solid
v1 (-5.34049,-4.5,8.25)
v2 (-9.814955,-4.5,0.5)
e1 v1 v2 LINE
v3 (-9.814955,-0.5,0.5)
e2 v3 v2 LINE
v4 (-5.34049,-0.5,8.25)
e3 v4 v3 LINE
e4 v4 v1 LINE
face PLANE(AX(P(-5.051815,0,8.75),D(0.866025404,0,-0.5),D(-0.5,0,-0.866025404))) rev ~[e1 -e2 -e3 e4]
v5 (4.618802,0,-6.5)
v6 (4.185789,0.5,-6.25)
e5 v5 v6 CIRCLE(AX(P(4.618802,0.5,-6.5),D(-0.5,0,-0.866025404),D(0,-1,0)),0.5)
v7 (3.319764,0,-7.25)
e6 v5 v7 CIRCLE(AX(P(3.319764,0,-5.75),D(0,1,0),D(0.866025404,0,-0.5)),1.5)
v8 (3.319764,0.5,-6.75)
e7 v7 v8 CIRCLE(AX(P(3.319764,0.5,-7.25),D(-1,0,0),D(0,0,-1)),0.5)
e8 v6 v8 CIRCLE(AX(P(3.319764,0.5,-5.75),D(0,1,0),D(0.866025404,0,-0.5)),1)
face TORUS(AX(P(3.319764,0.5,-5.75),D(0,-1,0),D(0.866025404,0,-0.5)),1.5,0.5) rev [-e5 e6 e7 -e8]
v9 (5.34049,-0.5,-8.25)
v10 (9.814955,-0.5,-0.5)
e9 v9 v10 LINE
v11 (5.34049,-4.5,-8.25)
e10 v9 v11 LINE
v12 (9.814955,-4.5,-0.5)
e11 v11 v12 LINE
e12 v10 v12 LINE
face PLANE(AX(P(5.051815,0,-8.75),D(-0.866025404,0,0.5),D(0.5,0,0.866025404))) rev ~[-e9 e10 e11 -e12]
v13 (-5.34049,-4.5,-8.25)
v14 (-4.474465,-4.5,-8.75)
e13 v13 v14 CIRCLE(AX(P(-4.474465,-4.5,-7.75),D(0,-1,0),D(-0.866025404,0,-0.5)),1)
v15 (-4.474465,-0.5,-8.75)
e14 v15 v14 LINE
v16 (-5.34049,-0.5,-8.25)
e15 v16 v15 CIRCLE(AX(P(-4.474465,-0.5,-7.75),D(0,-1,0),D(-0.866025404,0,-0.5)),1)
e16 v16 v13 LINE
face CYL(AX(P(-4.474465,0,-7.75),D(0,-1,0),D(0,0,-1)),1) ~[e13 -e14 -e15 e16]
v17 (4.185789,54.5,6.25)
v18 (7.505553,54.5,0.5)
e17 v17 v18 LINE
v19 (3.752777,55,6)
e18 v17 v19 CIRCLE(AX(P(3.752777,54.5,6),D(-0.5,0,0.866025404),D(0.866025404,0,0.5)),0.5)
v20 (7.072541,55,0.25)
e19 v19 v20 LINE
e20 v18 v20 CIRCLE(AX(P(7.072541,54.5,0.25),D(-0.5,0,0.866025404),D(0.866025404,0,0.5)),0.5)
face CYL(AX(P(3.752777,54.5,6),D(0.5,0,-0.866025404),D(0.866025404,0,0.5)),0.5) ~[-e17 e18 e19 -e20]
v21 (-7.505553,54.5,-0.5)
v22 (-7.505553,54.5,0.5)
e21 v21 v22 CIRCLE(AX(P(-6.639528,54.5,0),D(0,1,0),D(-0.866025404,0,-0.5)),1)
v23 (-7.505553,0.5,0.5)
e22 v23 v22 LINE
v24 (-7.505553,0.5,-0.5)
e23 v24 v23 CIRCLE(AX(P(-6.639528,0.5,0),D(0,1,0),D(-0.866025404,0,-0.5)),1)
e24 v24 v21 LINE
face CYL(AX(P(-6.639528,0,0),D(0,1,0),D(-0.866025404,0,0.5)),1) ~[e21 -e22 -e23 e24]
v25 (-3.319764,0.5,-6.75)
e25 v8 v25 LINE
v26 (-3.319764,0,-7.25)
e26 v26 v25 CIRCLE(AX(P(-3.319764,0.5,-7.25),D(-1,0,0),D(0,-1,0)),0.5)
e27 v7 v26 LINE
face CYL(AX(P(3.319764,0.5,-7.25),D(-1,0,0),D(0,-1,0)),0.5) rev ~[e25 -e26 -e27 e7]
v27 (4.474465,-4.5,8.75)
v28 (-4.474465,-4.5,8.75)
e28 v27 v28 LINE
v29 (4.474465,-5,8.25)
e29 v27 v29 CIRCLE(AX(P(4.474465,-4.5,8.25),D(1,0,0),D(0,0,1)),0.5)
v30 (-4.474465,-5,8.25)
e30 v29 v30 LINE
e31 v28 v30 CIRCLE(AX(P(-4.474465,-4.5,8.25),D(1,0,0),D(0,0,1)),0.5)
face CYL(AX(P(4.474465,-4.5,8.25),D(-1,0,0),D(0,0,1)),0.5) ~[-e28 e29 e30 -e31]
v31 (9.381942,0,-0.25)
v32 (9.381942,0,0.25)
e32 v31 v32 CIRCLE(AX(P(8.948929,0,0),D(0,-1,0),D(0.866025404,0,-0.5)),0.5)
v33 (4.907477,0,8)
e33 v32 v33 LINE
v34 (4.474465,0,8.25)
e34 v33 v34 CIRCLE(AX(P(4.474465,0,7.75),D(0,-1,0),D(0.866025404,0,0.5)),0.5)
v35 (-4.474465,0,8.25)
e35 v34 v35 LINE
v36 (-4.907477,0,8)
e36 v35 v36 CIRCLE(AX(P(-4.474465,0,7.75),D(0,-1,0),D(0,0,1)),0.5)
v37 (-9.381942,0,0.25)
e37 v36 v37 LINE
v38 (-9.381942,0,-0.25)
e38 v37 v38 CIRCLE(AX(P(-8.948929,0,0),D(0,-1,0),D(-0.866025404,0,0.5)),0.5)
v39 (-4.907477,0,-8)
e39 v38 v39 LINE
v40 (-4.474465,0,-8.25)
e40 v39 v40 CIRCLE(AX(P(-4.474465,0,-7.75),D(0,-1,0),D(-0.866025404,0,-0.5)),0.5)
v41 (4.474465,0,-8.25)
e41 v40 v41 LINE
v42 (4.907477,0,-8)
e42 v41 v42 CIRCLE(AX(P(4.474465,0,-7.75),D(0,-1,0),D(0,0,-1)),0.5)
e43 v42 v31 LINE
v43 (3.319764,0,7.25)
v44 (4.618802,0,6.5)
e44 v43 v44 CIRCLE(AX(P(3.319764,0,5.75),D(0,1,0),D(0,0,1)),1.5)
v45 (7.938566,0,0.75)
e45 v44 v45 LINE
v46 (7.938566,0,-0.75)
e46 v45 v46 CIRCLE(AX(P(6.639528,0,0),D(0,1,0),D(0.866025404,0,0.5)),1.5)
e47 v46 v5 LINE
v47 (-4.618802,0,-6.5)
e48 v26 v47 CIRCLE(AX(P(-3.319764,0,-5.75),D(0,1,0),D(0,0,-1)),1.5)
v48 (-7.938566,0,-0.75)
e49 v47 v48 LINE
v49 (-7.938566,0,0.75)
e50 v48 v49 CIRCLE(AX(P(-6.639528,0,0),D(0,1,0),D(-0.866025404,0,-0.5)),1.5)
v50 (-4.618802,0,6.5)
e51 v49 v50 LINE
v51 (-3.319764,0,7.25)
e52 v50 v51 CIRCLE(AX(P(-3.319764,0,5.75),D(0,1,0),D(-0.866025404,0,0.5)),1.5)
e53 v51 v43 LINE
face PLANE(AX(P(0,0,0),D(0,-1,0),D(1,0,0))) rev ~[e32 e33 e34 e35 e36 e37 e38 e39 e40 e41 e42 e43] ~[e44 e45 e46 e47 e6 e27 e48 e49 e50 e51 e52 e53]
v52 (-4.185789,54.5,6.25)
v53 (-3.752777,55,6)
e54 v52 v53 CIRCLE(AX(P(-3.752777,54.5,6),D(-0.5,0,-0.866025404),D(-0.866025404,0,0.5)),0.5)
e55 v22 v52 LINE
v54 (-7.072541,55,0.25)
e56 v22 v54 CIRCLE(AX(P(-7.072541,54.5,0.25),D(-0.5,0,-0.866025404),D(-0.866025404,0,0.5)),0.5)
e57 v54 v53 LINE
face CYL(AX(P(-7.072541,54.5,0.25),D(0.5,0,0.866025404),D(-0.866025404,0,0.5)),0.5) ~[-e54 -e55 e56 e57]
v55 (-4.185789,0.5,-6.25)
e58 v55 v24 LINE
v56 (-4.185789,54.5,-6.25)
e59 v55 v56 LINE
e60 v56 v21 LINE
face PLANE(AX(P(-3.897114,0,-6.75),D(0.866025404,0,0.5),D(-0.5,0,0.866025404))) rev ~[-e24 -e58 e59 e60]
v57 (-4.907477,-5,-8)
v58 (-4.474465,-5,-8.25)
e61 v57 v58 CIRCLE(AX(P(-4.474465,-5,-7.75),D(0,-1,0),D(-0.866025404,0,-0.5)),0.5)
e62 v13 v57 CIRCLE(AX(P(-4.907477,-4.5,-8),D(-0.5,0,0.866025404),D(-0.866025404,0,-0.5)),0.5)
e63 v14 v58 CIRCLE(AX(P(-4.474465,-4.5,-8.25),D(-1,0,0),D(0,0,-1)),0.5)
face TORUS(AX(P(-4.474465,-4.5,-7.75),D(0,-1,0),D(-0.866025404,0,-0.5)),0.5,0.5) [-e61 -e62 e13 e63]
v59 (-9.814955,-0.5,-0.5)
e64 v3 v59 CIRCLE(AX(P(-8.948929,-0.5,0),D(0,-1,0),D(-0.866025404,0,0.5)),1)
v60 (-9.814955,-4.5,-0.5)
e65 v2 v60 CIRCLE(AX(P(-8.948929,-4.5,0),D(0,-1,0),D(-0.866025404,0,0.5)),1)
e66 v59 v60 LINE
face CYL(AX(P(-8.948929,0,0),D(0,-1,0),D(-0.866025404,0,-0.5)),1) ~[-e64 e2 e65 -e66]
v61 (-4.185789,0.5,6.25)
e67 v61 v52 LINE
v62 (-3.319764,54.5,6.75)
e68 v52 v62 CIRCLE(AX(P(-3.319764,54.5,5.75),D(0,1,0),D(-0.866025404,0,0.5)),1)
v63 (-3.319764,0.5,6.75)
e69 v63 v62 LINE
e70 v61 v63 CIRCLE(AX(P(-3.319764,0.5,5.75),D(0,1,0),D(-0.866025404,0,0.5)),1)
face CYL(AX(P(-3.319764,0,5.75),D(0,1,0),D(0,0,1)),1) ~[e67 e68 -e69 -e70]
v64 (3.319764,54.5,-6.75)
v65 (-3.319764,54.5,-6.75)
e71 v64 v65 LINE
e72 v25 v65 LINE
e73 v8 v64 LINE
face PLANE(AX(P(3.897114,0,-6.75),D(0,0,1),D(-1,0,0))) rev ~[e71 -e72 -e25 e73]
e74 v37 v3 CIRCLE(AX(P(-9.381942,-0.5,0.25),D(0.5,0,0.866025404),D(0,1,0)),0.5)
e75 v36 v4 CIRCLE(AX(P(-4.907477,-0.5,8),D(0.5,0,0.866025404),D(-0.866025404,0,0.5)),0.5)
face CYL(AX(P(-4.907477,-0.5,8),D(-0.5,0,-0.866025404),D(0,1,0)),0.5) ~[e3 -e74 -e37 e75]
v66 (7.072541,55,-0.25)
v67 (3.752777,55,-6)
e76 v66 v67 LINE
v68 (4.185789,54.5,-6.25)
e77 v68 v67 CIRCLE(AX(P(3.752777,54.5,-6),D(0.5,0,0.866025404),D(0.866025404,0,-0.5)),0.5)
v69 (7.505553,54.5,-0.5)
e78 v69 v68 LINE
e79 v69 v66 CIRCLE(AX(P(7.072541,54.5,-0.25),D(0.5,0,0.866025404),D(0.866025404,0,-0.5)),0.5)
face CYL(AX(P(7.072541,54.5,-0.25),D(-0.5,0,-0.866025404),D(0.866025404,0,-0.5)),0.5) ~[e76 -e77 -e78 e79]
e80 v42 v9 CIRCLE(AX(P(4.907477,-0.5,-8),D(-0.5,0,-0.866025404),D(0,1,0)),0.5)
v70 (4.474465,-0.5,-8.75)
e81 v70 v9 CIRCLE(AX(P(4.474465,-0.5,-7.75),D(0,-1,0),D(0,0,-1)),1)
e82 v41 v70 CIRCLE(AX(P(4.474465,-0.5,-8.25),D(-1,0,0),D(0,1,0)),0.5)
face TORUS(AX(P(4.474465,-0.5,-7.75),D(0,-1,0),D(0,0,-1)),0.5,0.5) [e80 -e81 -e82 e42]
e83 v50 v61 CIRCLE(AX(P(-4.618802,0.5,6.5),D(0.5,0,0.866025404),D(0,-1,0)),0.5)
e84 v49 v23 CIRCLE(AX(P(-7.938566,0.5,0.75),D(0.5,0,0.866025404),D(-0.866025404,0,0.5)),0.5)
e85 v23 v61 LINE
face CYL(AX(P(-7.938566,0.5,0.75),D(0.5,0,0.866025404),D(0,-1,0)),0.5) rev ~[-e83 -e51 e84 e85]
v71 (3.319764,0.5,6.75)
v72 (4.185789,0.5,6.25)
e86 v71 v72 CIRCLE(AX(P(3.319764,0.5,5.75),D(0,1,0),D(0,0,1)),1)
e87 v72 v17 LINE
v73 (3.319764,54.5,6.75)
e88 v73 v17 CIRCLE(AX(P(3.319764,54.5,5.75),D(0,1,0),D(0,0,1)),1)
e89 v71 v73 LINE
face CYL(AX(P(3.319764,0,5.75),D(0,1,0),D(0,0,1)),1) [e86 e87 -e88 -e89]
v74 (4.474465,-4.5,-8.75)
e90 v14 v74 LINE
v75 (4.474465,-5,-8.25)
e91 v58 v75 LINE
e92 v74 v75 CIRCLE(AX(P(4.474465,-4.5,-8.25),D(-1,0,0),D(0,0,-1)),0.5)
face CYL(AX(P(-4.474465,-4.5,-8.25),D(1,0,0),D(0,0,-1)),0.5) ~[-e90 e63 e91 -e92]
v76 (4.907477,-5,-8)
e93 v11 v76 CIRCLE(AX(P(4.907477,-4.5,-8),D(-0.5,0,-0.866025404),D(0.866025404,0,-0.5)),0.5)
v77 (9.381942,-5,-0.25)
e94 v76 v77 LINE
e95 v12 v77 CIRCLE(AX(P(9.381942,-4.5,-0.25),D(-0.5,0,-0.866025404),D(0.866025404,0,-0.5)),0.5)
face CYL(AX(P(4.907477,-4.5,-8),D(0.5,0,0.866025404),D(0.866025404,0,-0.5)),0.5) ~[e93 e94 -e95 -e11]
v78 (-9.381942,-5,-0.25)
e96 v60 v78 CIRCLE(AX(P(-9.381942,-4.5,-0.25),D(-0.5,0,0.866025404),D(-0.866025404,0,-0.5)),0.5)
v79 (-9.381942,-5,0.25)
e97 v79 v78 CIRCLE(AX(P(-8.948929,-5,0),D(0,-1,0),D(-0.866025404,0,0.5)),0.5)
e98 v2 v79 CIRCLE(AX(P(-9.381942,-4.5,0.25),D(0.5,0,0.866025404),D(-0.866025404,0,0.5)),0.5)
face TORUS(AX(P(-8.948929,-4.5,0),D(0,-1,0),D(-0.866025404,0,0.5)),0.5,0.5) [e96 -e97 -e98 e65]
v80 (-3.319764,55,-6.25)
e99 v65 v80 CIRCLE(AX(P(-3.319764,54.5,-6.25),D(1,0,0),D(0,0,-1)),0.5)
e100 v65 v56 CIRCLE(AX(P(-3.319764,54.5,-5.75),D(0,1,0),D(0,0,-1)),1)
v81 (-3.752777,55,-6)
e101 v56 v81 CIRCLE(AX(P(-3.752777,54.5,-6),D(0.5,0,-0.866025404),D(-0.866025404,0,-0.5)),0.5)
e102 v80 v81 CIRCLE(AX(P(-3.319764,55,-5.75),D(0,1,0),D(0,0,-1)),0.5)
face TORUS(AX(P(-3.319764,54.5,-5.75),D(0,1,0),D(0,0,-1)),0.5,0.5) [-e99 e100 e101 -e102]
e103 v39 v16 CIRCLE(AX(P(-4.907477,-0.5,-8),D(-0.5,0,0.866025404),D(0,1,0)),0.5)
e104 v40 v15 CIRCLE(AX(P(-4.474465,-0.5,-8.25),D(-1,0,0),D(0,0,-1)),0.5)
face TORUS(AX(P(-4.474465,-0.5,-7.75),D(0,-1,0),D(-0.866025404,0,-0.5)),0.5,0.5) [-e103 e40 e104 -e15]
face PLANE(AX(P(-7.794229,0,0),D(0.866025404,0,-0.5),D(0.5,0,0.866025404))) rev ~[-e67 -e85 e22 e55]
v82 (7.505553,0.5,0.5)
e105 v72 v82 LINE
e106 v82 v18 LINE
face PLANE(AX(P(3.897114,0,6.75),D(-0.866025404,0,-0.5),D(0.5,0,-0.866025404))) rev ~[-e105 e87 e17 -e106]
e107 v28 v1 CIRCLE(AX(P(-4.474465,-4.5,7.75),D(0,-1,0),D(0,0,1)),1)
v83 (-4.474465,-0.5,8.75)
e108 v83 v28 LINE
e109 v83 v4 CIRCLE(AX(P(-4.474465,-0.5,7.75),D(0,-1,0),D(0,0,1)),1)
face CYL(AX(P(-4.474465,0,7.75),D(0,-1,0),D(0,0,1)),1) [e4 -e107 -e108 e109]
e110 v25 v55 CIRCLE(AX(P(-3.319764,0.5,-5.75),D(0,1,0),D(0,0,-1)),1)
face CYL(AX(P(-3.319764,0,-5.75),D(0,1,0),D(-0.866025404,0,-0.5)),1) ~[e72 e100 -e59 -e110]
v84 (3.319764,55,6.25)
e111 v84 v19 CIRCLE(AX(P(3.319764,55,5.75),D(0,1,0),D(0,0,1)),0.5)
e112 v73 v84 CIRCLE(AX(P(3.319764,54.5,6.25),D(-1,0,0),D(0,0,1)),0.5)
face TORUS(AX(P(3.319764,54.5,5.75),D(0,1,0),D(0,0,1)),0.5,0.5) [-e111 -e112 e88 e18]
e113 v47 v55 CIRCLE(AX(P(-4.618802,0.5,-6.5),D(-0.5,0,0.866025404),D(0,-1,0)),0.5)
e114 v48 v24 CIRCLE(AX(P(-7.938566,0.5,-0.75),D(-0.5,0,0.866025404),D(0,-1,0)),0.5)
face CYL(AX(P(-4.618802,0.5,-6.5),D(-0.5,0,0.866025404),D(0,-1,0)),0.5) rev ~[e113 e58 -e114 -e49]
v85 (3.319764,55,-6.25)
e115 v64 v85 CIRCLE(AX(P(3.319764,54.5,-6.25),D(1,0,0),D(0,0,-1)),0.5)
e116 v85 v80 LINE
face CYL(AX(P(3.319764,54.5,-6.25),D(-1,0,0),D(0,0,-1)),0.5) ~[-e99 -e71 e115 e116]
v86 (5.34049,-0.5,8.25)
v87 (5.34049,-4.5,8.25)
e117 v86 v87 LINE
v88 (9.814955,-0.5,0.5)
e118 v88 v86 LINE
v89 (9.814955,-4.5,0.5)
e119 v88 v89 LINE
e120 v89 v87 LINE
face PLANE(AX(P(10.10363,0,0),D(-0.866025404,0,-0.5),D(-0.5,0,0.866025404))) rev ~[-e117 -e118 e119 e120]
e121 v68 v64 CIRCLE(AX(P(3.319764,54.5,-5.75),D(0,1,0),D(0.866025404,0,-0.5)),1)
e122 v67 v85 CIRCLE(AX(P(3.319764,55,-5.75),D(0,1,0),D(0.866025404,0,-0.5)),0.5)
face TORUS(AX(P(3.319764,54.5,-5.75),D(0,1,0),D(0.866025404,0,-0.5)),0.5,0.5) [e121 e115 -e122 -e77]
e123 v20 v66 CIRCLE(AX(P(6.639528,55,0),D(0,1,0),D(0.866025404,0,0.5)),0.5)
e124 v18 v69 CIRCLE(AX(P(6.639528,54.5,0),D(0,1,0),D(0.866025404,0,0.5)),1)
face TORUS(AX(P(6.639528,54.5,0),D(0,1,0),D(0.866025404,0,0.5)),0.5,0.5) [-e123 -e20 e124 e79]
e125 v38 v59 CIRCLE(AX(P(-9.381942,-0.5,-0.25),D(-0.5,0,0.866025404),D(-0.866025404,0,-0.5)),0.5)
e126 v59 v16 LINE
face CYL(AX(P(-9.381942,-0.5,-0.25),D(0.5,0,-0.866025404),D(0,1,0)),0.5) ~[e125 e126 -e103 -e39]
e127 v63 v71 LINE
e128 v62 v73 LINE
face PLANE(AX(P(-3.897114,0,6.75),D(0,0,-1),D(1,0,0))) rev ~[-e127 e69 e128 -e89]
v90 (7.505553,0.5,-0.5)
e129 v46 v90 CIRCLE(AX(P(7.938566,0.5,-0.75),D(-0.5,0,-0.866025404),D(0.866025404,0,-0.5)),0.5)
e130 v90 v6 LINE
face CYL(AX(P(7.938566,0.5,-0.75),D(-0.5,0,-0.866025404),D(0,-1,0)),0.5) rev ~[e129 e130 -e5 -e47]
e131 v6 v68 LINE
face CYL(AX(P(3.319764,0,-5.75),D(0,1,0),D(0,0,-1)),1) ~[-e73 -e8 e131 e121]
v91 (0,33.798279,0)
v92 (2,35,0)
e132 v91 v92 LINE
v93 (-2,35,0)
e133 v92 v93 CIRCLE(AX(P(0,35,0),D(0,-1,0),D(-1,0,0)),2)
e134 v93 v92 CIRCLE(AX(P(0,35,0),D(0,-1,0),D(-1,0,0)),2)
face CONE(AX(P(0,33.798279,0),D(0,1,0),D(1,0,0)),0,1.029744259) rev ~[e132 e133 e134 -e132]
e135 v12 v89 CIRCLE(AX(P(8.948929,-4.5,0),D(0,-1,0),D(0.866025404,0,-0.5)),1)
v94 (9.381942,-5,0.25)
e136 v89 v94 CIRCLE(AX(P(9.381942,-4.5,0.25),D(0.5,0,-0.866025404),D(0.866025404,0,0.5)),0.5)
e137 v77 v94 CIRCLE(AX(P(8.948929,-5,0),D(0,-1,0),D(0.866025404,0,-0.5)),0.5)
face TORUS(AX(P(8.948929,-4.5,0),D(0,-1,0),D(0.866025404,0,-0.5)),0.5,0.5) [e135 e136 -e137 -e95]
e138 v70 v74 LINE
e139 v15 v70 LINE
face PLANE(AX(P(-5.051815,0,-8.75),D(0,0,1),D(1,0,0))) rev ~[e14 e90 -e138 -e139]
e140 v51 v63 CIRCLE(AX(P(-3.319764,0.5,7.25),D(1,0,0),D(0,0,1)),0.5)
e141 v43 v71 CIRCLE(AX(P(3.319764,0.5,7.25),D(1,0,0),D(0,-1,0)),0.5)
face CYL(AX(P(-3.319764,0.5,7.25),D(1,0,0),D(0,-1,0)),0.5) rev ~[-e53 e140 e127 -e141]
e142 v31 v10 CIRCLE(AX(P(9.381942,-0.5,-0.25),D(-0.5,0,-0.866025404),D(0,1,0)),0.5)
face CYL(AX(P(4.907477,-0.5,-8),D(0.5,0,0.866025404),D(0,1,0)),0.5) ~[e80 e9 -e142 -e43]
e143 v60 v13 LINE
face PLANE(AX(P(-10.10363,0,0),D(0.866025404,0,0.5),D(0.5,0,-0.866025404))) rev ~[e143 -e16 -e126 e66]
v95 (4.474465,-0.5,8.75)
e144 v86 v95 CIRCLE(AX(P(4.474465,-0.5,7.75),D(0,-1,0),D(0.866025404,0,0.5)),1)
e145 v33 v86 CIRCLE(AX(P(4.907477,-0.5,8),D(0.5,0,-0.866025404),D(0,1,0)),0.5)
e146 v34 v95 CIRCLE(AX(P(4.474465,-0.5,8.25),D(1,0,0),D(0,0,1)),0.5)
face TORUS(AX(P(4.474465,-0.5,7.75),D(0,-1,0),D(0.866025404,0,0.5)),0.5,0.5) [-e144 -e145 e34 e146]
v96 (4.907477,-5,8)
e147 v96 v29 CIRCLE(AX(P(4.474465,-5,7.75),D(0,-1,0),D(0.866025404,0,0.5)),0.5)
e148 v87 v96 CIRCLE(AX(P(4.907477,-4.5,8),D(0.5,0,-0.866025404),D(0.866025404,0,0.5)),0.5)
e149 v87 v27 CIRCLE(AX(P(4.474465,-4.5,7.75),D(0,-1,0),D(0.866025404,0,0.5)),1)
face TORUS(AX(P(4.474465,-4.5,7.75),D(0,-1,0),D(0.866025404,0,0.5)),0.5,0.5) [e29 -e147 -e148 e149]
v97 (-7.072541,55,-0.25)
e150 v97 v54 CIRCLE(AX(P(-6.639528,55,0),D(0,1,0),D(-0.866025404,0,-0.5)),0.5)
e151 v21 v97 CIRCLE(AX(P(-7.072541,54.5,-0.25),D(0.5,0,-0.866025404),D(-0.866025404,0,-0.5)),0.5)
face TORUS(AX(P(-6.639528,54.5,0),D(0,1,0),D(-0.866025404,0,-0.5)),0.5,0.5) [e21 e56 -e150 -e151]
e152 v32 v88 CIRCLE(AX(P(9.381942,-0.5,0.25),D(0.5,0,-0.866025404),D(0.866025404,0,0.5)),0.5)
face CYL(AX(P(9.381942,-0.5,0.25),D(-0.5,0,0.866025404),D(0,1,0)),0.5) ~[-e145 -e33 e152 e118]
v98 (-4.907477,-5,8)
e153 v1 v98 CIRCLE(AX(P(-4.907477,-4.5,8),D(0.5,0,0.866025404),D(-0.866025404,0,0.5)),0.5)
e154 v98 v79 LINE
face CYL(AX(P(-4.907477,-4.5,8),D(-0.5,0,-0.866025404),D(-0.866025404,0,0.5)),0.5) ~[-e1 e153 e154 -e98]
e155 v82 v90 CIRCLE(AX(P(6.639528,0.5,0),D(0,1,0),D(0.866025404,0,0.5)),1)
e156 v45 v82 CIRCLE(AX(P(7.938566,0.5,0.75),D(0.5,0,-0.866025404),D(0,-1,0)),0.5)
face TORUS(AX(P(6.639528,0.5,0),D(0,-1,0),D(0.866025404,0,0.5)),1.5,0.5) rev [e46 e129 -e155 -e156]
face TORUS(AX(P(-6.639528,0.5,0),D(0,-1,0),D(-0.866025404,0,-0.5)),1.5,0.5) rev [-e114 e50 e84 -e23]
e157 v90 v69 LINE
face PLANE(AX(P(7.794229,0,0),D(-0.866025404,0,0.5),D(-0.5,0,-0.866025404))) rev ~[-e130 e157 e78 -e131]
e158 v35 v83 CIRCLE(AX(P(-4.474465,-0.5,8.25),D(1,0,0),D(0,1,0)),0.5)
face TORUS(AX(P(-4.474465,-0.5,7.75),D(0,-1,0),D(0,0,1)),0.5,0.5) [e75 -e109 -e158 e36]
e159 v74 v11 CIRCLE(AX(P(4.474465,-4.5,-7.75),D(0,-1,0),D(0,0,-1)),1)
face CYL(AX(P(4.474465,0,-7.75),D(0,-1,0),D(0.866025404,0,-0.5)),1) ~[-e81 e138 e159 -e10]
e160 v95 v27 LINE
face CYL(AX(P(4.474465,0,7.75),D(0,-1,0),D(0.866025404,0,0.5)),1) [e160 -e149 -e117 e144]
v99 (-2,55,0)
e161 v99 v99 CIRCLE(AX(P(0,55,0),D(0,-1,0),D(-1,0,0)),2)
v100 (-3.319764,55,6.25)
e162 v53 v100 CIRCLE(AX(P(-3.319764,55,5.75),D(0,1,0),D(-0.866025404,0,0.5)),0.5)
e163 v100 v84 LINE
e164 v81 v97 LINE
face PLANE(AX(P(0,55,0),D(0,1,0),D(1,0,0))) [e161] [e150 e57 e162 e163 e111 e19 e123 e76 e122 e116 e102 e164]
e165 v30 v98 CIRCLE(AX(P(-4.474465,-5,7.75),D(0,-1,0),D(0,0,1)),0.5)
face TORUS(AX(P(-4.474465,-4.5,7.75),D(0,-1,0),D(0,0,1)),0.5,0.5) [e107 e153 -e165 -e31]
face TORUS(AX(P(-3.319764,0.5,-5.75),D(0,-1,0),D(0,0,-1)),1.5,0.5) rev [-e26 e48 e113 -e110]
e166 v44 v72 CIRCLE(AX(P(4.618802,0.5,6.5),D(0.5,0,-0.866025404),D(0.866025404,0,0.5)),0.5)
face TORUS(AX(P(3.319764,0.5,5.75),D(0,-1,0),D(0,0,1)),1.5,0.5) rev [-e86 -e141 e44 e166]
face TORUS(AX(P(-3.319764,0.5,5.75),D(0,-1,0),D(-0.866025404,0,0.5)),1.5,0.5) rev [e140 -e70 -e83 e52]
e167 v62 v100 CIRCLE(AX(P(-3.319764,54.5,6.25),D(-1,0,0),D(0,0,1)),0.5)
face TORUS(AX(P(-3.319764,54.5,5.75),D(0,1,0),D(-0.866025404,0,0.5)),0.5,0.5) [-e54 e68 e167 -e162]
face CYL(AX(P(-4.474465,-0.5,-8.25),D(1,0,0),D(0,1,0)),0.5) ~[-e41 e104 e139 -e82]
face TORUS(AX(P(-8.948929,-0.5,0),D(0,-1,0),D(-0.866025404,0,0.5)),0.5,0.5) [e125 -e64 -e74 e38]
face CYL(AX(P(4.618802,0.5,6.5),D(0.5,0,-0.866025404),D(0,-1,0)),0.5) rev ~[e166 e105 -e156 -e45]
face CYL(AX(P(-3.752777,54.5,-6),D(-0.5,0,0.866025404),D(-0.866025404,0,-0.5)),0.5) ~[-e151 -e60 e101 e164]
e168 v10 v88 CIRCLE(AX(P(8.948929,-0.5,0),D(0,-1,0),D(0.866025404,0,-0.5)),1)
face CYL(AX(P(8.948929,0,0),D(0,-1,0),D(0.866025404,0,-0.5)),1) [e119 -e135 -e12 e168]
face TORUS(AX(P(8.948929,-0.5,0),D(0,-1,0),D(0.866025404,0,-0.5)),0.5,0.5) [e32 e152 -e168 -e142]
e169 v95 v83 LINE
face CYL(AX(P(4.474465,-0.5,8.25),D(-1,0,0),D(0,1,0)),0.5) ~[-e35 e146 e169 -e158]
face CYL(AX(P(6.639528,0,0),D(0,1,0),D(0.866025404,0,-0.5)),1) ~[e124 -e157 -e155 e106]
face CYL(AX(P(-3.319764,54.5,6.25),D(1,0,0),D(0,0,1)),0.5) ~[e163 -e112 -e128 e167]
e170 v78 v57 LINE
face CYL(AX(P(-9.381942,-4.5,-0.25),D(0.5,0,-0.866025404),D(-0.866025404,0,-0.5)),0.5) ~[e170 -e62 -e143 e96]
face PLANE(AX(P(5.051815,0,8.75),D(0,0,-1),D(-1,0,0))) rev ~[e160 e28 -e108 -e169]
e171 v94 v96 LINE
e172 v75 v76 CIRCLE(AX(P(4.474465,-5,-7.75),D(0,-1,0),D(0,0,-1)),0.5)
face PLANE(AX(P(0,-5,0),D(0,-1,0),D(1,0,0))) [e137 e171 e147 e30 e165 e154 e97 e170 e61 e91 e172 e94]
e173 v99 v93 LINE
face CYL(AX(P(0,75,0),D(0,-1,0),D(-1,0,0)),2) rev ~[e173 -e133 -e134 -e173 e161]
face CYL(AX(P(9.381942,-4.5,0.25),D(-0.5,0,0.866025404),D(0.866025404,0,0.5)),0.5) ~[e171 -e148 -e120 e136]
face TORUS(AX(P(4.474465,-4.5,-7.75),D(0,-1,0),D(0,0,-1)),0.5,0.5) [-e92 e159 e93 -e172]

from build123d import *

# Parameters (mm, degrees)
BOSS_EXTRUDE1_DEPTH       = 55
BOSS_EXTRUDE2_DEPTH       = 5
F_4_0MM_DOWEL_HOLE1_D     = 4
F_4_0MM_DOWEL_HOLE1_DEPTH = 20
F_4_0MM_DOWEL_HOLE1_TIP   = 1.201721238
FILLET3_R                 = 1
FILLET4_R                 = 1
FILLET5_R                 = 0.5
FILLET6_R                 = 0.5


with BuildPart() as part:
    # Sketch1 → Boss-Extrude1 (new body)
    with BuildSketch(Plane(origin=(0, 0, 0), x_dir=(1, 0, 0), z_dir=(0, 1, 0))):
        Polygon((3.897114317, -6.75), (7.794228634, 0), (3.897114317, 6.75), (-3.897114317, 6.75), (-7.794228634, 0), (-3.897114317, -6.75), align=None)
    extrude(amount=BOSS_EXTRUDE1_DEPTH)

    # Sketch2 → Boss-Extrude2 (add)
    with BuildSketch(Plane.XZ):
        Polygon((5.051814855, -8.75), (10.103629711, 0), (5.051814855, 8.75), (-5.051814855, 8.75), (-10.103629711, 0), (-5.051814855, -8.75), align=None)
    extrude(amount=BOSS_EXTRUDE2_DEPTH)

    # Ø4.0mm Dowel Hole1
    with Locations(Plane(origin=(0, 55, 0), x_dir=(1, 0, 0), z_dir=(0, 1, 0))):
        with Locations((0, 0)):
            Hole(F_4_0MM_DOWEL_HOLE1_D / 2, depth=F_4_0MM_DOWEL_HOLE1_DEPTH)
            with Locations((0, 0, -(F_4_0MM_DOWEL_HOLE1_DEPTH + F_4_0MM_DOWEL_HOLE1_TIP / 2))):  # 118° drill point
                Cone(0, F_4_0MM_DOWEL_HOLE1_D / 2, F_4_0MM_DOWEL_HOLE1_TIP, mode=Mode.SUBTRACT)

    # Fillet3
    fillet3_edges = [part.edges().sort_by_distance(p)[0] for p in [
        (-3.897114317, 27.5, 6.75),
        (-7.794228634, 27.5, 0),
        (-3.897114317, 27.5, -6.75),
        (3.897114317, 27.5, -6.75),
        (7.794228634, 27.5, 0),
        (3.897114317, 27.5, 6.75),
    ]]
    fillet(fillet3_edges, radius=FILLET3_R)

    # Fillet4
    fillet4_edges = [part.edges().sort_by_distance(p)[0] for p in [
        (-5.051814855, -2.5, -8.75),
        (5.051814855, -2.5, -8.75),
        (10.103629711, -2.5, 0),
        (5.051814855, -2.5, 8.75),
        (-5.051814855, -2.5, 8.75),
        (-10.103629711, -2.5, 0),
    ]]
    fillet(fillet4_edges, radius=FILLET4_R)

    # Fillet5
    fillet5_edges = [part.edges().sort_by_distance(p)[0] for p in [
        (4.974464586, -5, 8.616025404),
        (9.948929172, -5, 0),
        (4.974464586, -5, -8.616025404),
        (-5.845671476, 0, -3.375),
        (0, 0, -6.75),
        (5.845671476, 0, -3.375),
        (5.845671476, 0, 3.375),
        (0, 0, 6.75),
        (-5.845671476, 0, 3.375),
        (-3.819764048, 0, -6.616025404),
        (3.819764048, 0, -6.616025404),
        (7.639528096, 0, 0),
        (3.819764048, 0, 6.616025404),
        (-3.819764048, 0, 6.616025404),
        (-7.639528096, 0, 0),
        (7.577722283, 0, -4.375),
        (7.577722283, -5, -4.375),
        (0, 0, -8.75),
        (-7.577722283, 0, -4.375),
        (-7.577722283, 0, 4.375),
        (0, 0, 8.75),
        (7.577722283, 0, 4.375),
        (-4.974464586, 0, -8.616025404),
        (-9.948929172, 0, 0),
        (-4.974464586, 0, 8.616025404),
        (4.974464586, 0, 8.616025404),
        (9.948929172, 0, 0),
        (4.974464586, 0, -8.616025404),
        (0, -5, -8.75),
        (7.577722283, -5, 4.375),
        (0, -5, 8.75),
        (-7.577722283, -5, 4.375),
        (-7.577722283, -5, -4.375),
        (-4.974464586, -5, -8.616025404),
        (-9.948929172, -5, 0),
        (-4.974464586, -5, 8.616025404),
    ]]
    fillet(fillet5_edges, radius=FILLET5_R)

    # Fillet6
    fillet6_edges = [part.edges().sort_by_distance(p)[0] for p in [
        (-5.845671476, 55, -3.375),
        (0, 55, -6.75),
        (0, 55, 6.75),
        (5.845671476, 55, 3.375),
        (5.845671476, 55, -3.375),
        (-5.845671476, 55, 3.375),
        (-7.639528096, 55, 0),
        (-3.819764048, 55, 6.616025404),
        (3.819764048, 55, 6.616025404),
        (7.639528096, 55, 0),
        (3.819764048, 55, -6.616025404),
        (-3.819764048, 55, -6.616025404),
    ]]
    fillet(fillet6_edges, radius=FILLET6_R)


solid = part.part
